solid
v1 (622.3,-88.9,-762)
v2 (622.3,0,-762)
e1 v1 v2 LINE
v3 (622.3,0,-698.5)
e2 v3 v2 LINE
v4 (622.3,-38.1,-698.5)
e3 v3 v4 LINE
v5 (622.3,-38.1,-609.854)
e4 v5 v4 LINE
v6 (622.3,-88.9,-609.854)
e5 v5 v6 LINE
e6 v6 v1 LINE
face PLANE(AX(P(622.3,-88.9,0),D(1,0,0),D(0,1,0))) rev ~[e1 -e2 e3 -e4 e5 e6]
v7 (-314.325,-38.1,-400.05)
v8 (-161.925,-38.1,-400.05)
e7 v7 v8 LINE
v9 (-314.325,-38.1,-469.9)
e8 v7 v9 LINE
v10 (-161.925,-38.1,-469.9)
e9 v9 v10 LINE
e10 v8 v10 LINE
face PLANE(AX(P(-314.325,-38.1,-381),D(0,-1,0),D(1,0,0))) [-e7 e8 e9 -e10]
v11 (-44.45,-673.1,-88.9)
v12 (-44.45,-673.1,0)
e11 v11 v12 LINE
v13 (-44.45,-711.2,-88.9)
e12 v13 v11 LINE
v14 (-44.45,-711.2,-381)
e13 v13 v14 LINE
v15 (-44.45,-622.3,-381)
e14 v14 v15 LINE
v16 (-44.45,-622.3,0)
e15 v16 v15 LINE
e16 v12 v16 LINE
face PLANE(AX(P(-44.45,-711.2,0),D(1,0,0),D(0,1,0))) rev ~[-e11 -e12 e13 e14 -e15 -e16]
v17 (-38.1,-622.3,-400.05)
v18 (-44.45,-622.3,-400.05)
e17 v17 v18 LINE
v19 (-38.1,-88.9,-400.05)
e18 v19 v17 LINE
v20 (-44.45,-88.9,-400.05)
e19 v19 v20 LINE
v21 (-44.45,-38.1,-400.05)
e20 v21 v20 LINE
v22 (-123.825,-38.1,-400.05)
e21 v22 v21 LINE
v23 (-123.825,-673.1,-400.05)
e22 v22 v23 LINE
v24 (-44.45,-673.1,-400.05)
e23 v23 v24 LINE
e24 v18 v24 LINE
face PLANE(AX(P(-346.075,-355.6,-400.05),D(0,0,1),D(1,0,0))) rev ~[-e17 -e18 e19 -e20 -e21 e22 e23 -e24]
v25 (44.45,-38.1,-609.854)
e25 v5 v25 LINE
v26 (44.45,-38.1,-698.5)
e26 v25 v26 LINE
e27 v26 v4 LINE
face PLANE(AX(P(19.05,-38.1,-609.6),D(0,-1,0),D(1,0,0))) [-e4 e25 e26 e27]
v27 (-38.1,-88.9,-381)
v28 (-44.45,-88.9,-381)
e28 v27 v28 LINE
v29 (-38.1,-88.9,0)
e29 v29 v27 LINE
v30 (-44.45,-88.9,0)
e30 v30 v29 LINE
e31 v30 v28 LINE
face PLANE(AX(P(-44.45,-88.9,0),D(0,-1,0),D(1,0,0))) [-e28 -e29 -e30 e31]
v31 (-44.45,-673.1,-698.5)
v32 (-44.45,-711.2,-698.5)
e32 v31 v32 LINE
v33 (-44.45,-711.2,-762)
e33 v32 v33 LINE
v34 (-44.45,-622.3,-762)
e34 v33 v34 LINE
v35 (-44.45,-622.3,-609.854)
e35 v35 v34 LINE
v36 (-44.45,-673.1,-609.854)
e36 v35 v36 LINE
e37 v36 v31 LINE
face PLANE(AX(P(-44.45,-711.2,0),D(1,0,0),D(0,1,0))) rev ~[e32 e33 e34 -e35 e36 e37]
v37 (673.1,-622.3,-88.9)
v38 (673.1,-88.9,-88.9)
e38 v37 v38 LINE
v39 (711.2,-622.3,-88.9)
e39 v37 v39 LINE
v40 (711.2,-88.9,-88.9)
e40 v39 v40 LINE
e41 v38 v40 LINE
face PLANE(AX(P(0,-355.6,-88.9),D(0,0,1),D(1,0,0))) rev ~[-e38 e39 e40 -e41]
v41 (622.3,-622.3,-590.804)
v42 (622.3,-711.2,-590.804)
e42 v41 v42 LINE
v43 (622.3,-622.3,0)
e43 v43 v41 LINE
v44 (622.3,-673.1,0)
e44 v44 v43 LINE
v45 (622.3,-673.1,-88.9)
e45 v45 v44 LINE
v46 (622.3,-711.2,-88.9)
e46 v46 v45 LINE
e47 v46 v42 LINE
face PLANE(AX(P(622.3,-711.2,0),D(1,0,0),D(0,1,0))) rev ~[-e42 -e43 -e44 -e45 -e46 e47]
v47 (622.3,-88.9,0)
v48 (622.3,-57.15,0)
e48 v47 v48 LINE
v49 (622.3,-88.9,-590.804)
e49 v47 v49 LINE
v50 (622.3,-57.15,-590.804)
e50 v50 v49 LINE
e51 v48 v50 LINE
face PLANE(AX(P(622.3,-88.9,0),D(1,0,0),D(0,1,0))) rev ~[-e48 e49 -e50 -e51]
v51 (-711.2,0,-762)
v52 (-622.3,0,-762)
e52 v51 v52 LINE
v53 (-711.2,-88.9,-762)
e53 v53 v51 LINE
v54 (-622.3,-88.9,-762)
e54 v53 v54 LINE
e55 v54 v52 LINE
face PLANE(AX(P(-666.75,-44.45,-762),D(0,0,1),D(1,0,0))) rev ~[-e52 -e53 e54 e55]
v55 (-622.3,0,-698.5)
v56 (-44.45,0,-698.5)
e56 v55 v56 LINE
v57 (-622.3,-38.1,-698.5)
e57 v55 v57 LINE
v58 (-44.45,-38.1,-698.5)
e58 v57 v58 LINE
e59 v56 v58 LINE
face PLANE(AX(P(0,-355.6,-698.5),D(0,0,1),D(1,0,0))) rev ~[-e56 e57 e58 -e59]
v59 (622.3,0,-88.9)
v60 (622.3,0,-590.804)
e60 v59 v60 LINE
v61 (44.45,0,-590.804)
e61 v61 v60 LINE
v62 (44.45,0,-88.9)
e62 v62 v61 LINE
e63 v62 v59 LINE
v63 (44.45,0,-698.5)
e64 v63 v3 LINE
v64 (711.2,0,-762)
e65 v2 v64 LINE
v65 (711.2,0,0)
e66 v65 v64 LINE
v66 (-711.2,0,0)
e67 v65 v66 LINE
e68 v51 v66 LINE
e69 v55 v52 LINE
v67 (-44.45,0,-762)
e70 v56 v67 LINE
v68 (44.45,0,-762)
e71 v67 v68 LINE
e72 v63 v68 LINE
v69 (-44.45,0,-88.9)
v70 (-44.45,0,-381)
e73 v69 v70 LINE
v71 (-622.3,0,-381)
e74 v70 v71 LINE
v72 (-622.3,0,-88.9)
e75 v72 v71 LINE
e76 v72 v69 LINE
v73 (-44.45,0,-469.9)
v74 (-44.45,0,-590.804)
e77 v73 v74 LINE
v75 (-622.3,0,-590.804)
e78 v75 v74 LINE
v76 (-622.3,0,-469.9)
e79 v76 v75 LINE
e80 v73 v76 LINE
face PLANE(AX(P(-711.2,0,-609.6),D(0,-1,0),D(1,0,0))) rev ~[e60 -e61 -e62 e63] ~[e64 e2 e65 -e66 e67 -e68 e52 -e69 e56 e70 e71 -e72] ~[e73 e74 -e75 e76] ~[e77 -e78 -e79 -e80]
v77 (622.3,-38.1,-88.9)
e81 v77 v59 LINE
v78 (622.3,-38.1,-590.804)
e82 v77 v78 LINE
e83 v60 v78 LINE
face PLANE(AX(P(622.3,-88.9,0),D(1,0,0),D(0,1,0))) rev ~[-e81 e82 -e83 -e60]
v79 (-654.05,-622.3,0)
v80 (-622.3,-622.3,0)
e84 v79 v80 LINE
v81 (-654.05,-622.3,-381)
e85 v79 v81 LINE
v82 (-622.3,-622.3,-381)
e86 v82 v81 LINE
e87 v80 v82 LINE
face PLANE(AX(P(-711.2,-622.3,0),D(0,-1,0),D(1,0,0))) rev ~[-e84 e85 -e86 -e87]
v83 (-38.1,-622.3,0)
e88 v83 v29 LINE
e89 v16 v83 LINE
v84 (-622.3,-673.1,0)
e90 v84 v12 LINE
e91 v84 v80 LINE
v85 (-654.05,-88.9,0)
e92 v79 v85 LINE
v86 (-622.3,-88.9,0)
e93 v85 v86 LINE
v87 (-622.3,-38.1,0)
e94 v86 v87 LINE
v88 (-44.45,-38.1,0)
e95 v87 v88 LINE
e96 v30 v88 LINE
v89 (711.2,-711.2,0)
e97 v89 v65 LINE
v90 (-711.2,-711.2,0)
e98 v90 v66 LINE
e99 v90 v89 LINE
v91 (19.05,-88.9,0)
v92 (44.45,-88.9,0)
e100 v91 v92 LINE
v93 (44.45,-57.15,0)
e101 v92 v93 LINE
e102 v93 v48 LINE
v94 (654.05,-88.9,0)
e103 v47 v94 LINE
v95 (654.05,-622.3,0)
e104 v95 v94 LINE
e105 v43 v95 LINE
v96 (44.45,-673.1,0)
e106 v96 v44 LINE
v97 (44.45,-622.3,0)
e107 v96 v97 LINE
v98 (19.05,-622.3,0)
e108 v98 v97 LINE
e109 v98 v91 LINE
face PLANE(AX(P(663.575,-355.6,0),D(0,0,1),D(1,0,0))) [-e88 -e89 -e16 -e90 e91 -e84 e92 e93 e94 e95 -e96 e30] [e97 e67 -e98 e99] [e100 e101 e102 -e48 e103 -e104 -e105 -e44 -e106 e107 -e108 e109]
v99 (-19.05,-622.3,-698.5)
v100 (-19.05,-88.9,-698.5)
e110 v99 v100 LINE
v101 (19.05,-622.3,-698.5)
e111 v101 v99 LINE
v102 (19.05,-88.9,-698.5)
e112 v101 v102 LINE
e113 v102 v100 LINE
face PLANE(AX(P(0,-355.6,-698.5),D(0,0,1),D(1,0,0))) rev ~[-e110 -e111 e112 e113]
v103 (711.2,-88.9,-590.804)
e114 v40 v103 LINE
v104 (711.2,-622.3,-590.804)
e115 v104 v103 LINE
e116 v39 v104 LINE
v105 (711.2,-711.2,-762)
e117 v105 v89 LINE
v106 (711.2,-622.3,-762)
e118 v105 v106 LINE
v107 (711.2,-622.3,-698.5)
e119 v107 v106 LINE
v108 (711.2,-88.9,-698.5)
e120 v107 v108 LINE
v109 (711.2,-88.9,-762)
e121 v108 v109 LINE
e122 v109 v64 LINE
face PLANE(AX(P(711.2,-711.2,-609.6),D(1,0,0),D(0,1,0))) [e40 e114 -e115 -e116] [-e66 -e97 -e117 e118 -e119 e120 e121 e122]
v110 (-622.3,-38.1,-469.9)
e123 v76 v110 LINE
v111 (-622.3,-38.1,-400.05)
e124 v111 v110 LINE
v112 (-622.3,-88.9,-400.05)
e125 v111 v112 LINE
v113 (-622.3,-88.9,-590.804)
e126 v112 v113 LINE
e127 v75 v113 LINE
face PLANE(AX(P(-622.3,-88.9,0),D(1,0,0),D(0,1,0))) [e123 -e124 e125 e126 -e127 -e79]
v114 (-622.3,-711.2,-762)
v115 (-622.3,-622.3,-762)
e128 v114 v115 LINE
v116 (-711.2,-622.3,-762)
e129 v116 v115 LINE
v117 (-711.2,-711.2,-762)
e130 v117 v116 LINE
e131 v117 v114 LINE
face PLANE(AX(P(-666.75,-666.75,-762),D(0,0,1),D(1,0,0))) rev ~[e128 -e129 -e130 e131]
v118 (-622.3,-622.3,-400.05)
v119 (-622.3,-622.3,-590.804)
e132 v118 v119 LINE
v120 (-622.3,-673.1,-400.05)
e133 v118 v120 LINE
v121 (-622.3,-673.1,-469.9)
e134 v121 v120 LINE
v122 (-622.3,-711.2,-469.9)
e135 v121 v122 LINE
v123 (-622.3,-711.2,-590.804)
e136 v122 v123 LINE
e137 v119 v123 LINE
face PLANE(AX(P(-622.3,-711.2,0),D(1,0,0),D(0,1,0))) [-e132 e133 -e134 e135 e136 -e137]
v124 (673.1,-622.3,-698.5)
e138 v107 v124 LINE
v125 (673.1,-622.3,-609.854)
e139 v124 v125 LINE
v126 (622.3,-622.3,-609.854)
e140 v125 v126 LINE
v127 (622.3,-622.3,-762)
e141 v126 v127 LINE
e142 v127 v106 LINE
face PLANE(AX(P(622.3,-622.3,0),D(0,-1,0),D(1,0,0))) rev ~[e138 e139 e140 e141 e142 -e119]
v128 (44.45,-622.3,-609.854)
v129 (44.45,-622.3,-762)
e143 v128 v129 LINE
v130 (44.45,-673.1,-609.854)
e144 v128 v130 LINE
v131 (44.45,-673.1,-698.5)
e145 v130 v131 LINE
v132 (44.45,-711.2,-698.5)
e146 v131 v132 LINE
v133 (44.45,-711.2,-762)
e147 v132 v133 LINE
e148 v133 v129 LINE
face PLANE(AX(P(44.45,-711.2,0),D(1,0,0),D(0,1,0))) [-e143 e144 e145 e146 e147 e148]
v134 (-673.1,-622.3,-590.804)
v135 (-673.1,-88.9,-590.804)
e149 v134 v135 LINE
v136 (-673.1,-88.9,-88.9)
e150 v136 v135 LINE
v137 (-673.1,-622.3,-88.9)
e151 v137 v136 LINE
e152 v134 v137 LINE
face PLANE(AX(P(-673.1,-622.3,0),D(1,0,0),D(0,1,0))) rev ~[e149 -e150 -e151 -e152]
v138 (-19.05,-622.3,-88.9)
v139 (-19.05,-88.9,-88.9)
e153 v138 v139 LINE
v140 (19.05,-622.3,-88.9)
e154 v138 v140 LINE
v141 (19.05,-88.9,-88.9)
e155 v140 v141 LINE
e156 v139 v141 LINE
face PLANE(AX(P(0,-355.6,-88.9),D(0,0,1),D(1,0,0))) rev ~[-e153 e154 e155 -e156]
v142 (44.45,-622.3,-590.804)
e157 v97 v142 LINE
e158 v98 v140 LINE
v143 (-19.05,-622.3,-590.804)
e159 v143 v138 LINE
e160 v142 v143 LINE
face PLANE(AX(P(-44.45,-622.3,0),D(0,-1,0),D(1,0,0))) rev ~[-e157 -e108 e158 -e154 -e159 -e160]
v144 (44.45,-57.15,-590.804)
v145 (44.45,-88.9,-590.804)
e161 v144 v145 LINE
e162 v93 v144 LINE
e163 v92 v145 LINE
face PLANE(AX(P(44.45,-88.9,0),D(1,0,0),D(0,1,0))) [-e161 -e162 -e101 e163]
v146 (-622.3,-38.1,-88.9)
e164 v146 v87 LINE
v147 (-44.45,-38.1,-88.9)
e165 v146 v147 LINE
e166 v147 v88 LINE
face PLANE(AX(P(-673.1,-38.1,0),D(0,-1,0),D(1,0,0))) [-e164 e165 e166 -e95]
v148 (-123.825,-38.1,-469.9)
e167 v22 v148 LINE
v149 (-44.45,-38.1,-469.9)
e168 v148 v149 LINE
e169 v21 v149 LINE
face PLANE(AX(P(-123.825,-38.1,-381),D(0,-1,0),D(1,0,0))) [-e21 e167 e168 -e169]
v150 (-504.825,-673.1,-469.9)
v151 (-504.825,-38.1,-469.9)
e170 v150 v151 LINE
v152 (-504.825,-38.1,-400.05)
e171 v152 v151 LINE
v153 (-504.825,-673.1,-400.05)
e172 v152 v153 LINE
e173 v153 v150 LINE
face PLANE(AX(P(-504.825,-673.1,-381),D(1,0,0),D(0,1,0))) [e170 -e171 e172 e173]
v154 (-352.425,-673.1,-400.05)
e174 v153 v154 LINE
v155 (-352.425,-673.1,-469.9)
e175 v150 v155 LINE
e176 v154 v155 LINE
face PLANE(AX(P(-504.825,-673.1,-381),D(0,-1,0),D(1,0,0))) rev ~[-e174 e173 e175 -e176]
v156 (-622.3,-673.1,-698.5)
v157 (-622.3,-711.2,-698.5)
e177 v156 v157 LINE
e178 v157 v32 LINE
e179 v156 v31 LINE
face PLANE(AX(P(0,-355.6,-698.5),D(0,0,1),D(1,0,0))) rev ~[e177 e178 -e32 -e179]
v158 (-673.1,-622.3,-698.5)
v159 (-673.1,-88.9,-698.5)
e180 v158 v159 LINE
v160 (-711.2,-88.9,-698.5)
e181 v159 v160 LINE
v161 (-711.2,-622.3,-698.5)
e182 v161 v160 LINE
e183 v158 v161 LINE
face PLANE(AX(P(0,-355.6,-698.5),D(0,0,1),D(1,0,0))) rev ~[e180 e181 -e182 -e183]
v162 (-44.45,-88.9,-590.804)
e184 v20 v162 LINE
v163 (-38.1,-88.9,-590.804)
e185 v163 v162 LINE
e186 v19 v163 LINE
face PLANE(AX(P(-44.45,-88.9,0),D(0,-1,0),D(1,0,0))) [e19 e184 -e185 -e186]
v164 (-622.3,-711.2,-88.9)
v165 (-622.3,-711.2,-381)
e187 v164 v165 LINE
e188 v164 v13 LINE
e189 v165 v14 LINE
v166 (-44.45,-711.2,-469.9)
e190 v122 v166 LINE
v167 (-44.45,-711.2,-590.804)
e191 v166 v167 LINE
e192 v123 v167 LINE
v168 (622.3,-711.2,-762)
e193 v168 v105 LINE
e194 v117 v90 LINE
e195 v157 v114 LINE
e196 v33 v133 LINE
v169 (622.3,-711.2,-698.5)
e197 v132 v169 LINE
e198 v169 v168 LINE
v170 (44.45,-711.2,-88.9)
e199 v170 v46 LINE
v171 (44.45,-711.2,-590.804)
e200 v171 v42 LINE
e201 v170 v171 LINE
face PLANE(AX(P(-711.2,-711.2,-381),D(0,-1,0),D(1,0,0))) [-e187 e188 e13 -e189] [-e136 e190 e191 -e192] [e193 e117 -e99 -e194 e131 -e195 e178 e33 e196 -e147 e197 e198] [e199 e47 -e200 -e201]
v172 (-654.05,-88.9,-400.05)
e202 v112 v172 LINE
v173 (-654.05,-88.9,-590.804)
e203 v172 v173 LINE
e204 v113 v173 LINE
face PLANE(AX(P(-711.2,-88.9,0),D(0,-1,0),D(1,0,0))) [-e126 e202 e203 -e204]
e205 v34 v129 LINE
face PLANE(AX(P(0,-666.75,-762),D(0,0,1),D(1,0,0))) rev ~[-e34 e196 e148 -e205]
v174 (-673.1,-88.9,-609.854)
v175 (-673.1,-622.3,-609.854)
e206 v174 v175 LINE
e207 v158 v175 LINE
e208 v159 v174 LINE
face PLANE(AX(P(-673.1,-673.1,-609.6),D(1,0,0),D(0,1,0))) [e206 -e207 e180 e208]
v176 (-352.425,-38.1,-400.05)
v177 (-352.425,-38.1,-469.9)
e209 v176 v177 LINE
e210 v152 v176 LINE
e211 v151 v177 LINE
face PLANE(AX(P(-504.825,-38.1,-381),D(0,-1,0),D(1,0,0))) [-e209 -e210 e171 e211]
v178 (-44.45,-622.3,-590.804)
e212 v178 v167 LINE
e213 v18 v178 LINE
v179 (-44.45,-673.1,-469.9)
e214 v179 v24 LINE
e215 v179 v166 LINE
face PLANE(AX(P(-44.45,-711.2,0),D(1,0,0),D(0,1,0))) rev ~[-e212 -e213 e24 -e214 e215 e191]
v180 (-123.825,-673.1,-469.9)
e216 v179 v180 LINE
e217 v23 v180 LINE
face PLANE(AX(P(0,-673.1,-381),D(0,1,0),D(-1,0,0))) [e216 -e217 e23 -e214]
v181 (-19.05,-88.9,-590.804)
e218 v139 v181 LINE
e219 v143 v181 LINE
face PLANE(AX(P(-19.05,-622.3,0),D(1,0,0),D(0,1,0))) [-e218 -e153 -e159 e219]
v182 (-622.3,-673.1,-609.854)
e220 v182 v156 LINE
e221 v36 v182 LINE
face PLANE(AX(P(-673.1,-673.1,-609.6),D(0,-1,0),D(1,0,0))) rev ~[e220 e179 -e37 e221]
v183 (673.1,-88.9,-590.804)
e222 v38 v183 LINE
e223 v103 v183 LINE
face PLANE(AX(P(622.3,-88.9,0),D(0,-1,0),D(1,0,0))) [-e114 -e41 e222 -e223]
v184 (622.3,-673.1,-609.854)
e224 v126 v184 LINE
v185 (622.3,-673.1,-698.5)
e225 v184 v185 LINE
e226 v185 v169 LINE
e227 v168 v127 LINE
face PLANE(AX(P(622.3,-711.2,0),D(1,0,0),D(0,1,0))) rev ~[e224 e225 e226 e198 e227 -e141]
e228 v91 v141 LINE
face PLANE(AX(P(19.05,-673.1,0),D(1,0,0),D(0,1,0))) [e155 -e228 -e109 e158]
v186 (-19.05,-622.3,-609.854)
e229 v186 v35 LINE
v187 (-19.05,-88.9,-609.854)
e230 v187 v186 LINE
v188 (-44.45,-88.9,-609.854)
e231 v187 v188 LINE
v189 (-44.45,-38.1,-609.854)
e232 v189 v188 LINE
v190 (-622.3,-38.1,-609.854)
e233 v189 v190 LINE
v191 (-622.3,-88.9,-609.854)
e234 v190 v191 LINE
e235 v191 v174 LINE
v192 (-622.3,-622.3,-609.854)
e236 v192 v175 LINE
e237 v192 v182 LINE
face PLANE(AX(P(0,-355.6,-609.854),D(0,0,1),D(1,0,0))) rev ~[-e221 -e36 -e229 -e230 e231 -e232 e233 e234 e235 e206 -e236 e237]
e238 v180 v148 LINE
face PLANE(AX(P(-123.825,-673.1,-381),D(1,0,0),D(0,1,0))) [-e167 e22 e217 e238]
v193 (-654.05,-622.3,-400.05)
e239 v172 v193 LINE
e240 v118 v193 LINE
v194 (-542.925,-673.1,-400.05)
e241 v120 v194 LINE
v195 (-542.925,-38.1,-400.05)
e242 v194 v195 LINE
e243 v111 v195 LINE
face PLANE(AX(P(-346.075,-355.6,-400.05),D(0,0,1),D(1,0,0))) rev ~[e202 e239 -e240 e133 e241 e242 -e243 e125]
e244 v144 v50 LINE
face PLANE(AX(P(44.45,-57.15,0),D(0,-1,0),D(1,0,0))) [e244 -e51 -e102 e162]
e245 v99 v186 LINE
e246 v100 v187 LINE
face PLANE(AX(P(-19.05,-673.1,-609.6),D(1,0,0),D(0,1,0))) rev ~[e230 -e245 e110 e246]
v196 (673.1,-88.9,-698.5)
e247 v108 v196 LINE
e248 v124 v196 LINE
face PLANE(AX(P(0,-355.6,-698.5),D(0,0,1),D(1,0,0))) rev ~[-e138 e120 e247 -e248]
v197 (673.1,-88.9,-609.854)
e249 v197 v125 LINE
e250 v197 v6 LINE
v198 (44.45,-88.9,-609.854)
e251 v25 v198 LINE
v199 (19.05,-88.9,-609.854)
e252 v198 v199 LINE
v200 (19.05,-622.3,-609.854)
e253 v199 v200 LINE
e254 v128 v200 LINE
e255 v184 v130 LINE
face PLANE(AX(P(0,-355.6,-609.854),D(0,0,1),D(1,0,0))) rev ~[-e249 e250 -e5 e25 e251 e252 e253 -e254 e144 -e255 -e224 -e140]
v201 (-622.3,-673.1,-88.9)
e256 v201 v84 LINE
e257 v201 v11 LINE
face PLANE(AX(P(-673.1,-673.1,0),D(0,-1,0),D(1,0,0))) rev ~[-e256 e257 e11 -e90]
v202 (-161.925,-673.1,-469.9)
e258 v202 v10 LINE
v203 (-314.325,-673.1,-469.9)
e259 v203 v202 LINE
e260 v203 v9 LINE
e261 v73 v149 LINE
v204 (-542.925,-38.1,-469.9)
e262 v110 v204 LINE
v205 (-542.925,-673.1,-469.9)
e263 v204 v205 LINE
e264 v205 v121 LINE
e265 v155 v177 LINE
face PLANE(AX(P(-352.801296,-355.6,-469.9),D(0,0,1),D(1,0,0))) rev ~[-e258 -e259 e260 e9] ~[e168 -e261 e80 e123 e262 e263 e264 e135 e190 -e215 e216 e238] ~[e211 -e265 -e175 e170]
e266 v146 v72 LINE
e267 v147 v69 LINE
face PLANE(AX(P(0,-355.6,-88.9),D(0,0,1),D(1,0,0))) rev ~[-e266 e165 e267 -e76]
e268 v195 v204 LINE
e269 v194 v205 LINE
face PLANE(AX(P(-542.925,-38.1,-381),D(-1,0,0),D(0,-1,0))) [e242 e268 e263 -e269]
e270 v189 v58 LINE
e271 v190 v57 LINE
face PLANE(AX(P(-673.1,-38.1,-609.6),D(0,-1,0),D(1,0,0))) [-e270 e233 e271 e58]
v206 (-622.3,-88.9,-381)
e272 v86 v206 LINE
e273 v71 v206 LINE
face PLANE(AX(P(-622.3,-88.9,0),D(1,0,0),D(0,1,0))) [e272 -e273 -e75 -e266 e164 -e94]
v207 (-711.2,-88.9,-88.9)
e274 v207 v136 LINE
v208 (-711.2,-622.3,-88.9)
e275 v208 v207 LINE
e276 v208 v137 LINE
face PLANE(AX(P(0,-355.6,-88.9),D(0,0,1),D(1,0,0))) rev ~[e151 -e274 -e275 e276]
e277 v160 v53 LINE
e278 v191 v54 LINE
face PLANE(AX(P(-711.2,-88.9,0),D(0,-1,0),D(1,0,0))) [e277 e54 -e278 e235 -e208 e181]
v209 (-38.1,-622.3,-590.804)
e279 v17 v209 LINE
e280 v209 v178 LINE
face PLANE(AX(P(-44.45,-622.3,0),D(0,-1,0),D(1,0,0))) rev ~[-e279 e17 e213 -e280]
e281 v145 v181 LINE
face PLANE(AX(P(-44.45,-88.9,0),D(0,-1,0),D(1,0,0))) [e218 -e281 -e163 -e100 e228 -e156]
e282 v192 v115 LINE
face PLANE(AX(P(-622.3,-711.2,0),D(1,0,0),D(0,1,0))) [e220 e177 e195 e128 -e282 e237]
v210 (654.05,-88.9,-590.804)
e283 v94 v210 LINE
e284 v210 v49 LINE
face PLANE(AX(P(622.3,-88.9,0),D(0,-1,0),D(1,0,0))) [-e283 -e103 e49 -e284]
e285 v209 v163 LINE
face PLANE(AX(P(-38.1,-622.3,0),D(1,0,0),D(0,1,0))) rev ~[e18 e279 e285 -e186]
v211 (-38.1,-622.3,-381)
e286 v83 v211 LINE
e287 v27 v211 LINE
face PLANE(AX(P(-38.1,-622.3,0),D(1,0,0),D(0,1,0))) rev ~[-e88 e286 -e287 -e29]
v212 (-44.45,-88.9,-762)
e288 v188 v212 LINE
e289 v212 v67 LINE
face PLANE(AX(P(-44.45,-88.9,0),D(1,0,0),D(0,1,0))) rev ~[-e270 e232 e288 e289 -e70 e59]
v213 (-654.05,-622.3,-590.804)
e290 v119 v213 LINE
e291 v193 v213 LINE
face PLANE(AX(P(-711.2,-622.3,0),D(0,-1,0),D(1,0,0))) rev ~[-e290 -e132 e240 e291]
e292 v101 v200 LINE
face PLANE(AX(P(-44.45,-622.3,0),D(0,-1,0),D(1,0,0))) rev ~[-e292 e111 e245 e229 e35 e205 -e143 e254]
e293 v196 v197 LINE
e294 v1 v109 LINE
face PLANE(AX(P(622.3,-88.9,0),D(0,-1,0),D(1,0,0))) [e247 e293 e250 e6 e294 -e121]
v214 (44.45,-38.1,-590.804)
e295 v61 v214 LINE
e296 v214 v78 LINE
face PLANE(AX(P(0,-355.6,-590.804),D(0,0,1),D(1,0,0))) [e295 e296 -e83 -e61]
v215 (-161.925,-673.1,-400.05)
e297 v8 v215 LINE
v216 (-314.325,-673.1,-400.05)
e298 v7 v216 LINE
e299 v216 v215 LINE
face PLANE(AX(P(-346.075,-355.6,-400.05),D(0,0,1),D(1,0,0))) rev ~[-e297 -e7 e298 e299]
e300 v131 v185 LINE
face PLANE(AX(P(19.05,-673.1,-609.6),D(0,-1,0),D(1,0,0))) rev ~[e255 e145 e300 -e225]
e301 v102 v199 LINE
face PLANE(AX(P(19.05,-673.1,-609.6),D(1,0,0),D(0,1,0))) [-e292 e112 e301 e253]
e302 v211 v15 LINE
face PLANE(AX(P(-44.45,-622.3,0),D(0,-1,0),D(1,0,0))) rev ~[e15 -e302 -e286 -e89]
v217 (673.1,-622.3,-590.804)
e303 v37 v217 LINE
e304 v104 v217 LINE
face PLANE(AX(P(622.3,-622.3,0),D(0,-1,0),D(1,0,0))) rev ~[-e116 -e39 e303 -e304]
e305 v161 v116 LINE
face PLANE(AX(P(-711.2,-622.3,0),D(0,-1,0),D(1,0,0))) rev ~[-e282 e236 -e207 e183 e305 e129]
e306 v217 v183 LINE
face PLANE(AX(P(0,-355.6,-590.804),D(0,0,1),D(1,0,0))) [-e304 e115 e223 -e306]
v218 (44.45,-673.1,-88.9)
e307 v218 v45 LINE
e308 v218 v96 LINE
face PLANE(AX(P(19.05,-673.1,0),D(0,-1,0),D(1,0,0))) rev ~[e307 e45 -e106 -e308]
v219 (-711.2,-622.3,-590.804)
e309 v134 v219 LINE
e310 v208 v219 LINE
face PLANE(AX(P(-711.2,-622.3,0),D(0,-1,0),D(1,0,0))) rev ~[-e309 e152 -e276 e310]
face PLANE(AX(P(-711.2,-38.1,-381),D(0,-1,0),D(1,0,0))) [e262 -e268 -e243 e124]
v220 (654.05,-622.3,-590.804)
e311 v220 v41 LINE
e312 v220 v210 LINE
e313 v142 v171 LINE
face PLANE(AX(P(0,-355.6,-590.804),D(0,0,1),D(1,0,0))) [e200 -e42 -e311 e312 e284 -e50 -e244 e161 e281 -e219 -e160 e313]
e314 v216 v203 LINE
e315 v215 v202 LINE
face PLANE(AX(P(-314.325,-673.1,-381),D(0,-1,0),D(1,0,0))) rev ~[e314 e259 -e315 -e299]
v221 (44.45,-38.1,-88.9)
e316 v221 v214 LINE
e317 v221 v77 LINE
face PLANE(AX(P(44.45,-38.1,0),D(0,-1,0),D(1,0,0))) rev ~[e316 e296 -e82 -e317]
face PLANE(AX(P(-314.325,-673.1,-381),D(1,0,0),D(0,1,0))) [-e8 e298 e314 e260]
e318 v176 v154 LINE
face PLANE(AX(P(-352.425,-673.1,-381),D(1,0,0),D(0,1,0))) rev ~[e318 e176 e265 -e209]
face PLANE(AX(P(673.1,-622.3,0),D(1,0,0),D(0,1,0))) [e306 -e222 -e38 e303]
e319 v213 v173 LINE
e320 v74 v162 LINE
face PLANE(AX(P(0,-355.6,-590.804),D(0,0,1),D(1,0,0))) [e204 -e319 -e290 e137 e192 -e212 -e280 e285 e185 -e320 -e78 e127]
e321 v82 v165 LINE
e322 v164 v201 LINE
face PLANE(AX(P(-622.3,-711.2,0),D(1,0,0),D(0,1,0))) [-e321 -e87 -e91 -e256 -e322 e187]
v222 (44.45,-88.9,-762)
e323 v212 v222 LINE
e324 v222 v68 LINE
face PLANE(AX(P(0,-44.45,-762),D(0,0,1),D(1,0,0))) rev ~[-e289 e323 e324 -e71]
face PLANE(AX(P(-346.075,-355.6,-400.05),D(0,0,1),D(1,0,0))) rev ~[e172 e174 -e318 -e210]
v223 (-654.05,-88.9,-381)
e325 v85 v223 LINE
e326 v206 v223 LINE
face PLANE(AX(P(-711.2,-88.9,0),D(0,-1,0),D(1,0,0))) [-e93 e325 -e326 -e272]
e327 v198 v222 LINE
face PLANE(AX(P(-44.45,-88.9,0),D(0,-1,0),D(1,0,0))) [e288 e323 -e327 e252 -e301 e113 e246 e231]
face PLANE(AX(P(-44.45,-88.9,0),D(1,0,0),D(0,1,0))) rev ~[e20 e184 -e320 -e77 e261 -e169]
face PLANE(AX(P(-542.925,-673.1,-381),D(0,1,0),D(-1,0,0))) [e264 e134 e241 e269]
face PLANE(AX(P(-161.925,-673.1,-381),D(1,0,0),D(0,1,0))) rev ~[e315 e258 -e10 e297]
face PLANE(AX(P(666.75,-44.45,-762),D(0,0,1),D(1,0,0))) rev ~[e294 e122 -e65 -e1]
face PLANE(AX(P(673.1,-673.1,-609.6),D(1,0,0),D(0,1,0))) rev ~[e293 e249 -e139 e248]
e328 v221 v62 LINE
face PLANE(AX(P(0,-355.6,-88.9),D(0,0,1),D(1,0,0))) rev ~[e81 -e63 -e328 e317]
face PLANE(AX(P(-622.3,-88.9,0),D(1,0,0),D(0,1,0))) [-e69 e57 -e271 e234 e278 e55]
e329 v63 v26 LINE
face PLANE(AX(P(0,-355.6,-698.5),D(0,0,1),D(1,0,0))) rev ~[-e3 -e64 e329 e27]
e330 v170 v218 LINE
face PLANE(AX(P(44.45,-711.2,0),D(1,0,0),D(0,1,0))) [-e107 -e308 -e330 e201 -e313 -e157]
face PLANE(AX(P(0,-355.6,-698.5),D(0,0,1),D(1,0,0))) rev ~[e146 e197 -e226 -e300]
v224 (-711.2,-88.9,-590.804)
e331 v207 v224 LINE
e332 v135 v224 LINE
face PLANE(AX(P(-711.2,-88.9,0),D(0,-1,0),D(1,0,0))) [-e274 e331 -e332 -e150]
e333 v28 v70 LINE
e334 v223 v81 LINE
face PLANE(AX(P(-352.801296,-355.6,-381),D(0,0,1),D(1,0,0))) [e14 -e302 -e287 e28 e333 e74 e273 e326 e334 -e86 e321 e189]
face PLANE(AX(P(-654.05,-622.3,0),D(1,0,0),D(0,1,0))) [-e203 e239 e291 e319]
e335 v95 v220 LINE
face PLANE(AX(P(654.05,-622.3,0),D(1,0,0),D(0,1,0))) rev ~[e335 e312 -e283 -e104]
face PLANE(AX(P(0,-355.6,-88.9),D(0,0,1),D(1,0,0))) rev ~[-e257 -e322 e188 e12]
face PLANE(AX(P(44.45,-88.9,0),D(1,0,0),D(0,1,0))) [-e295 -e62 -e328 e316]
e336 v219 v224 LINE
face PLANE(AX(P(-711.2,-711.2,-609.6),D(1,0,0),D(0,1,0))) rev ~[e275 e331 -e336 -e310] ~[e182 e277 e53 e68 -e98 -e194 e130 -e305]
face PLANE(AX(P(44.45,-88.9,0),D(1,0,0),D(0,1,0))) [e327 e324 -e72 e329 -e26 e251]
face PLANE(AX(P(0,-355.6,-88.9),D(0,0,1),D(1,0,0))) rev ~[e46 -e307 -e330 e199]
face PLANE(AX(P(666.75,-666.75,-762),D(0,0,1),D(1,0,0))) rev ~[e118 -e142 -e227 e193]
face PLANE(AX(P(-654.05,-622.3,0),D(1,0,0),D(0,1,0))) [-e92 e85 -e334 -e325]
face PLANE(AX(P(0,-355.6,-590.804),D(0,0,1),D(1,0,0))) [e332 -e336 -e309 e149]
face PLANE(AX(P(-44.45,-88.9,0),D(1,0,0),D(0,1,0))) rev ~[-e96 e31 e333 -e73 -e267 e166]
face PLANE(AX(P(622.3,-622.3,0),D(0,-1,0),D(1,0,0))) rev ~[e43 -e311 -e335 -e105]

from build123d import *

# Parameters (mm, degrees)
F0_W          = 1422.4
F0_H          = 711.2
F0_W_2        = 654.05
F0_H_2        = 635
F1_DEPTH      = 88.9
F2_W          = 88.9
F2_H          = 88.9
F3_DEPTH      = 762
F5_W          = 1422.4
F5_H          = 711.2
F5_W_2        = 654.05
F5_H_2        = 635
F6_DEPTH      = 88.9
F7_W          = 1422.4
F7_H          = 711.2
F8_DEPTH      = 18.796
F8_DEPTH_BACK = 0.254
F9_W          = 19.05
F9_H          = 533.4
F9_W_2        = 577.85
F9_H_2        = 19.05
F10_DEPTH     = 590.804
F12_W         = 152.4
F12_H         = 635
F13_DEPTH     = 88.9
F14_W         = 654.05
F14_H         = 635
F15_DEPTH     = 19.05


with BuildPart() as f1:
    # F0 (on Top) → F1 (new body)
    with BuildSketch(Plane.XY):
        with Locations((0, -355.6)):
            Rectangle(F0_W, F0_H)
        with Locations((-346.075, -355.6)):
            Rectangle(F0_W_2, F0_H_2, mode=Mode.SUBTRACT)
        with Locations((346.075, -355.6)):
            Rectangle(F0_W_2, F0_H_2, mode=Mode.SUBTRACT)
    extrude(amount=-F1_DEPTH)

    # F2 (on Top) → F3 (join)
    with BuildSketch(Plane.XY):
        with Locations((-666.75, -44.45)):
            Rectangle(F2_W, F2_H)
        with Locations((-666.75, -666.75)):
            Rectangle(F2_W, F2_H)
        with Locations((0, -44.45)):
            Rectangle(F2_W, F2_H)
        with Locations((0, -666.75)):
            Rectangle(F2_W, F2_H)
        with Locations((666.75, -44.45)):
            Rectangle(F2_W, F2_H)
        with Locations((666.75, -666.75)):
            Rectangle(F2_W, F2_H)
    extrude(amount=-F3_DEPTH)

    # F5 (on offset) → F6 (join)
    with BuildSketch(Plane.XY.offset(-609.6)):
        with Locations((0, -355.6)):
            Rectangle(F5_W, F5_H)
        with Locations((-346.075, -355.6)):
            Rectangle(F5_W_2, F5_H_2, mode=Mode.SUBTRACT)
        with Locations((346.075, -355.6)):
            Rectangle(F5_W_2, F5_H_2, mode=Mode.SUBTRACT)
    extrude(amount=-F6_DEPTH)

    # F7 (on offset) → F8 (join, two sides)
    with BuildSketch(Plane.XY.offset(-609.6)) as f8_sk:
        with Locations((0, -355.6)):
            Rectangle(F7_W, F7_H)
    extrude(amount=F8_DEPTH)
    extrude(f8_sk.sketch, amount=-F8_DEPTH_BACK)

    # F9 (on Top) → F10 (join, through all)
    with BuildSketch(Plane.XY):
        with Locations((663.575, -355.6)):
            Rectangle(F9_W, F9_H)
        with Locations((333.375, -47.625)):
            Rectangle(F9_W_2, F9_H_2)
        with Locations((-28.575, -355.6)):
            Rectangle(F9_W, F9_H)
        with Locations((-663.575, -355.6)):
            Rectangle(F9_W, F9_H)
    extrude(amount=-F10_DEPTH)

    # F12 (on offset) → F13 (join)
    with BuildSketch(Plane.XY.offset(-381)):
        Polygon((0, 0), (-711.2, 0), (-711.2, -38.1), (-542.925, -38.1), (-542.925, -673.1), (-711.2, -673.1), (-711.2, -711.2), (0, -711.2), (0, -673.1), (-123.825, -673.1), (-123.825, -38.1), (0, -38.1), align=None)
        with Locations((-428.625, -355.6)):
            Rectangle(F12_W, F12_H, mode=Mode.SUBTRACT)
        with Locations((-238.125, -355.6)):
            Rectangle(F12_W, F12_H, mode=Mode.SUBTRACT)
    extrude(amount=-F13_DEPTH)

    # F14 (on face) → F15 (join)
    with BuildSketch(Plane.XY.offset(-381)):
        with Locations((-346.075, -355.6)):
            Rectangle(F14_W, F14_H)
    extrude(amount=-F15_DEPTH)


solid = f1.part
